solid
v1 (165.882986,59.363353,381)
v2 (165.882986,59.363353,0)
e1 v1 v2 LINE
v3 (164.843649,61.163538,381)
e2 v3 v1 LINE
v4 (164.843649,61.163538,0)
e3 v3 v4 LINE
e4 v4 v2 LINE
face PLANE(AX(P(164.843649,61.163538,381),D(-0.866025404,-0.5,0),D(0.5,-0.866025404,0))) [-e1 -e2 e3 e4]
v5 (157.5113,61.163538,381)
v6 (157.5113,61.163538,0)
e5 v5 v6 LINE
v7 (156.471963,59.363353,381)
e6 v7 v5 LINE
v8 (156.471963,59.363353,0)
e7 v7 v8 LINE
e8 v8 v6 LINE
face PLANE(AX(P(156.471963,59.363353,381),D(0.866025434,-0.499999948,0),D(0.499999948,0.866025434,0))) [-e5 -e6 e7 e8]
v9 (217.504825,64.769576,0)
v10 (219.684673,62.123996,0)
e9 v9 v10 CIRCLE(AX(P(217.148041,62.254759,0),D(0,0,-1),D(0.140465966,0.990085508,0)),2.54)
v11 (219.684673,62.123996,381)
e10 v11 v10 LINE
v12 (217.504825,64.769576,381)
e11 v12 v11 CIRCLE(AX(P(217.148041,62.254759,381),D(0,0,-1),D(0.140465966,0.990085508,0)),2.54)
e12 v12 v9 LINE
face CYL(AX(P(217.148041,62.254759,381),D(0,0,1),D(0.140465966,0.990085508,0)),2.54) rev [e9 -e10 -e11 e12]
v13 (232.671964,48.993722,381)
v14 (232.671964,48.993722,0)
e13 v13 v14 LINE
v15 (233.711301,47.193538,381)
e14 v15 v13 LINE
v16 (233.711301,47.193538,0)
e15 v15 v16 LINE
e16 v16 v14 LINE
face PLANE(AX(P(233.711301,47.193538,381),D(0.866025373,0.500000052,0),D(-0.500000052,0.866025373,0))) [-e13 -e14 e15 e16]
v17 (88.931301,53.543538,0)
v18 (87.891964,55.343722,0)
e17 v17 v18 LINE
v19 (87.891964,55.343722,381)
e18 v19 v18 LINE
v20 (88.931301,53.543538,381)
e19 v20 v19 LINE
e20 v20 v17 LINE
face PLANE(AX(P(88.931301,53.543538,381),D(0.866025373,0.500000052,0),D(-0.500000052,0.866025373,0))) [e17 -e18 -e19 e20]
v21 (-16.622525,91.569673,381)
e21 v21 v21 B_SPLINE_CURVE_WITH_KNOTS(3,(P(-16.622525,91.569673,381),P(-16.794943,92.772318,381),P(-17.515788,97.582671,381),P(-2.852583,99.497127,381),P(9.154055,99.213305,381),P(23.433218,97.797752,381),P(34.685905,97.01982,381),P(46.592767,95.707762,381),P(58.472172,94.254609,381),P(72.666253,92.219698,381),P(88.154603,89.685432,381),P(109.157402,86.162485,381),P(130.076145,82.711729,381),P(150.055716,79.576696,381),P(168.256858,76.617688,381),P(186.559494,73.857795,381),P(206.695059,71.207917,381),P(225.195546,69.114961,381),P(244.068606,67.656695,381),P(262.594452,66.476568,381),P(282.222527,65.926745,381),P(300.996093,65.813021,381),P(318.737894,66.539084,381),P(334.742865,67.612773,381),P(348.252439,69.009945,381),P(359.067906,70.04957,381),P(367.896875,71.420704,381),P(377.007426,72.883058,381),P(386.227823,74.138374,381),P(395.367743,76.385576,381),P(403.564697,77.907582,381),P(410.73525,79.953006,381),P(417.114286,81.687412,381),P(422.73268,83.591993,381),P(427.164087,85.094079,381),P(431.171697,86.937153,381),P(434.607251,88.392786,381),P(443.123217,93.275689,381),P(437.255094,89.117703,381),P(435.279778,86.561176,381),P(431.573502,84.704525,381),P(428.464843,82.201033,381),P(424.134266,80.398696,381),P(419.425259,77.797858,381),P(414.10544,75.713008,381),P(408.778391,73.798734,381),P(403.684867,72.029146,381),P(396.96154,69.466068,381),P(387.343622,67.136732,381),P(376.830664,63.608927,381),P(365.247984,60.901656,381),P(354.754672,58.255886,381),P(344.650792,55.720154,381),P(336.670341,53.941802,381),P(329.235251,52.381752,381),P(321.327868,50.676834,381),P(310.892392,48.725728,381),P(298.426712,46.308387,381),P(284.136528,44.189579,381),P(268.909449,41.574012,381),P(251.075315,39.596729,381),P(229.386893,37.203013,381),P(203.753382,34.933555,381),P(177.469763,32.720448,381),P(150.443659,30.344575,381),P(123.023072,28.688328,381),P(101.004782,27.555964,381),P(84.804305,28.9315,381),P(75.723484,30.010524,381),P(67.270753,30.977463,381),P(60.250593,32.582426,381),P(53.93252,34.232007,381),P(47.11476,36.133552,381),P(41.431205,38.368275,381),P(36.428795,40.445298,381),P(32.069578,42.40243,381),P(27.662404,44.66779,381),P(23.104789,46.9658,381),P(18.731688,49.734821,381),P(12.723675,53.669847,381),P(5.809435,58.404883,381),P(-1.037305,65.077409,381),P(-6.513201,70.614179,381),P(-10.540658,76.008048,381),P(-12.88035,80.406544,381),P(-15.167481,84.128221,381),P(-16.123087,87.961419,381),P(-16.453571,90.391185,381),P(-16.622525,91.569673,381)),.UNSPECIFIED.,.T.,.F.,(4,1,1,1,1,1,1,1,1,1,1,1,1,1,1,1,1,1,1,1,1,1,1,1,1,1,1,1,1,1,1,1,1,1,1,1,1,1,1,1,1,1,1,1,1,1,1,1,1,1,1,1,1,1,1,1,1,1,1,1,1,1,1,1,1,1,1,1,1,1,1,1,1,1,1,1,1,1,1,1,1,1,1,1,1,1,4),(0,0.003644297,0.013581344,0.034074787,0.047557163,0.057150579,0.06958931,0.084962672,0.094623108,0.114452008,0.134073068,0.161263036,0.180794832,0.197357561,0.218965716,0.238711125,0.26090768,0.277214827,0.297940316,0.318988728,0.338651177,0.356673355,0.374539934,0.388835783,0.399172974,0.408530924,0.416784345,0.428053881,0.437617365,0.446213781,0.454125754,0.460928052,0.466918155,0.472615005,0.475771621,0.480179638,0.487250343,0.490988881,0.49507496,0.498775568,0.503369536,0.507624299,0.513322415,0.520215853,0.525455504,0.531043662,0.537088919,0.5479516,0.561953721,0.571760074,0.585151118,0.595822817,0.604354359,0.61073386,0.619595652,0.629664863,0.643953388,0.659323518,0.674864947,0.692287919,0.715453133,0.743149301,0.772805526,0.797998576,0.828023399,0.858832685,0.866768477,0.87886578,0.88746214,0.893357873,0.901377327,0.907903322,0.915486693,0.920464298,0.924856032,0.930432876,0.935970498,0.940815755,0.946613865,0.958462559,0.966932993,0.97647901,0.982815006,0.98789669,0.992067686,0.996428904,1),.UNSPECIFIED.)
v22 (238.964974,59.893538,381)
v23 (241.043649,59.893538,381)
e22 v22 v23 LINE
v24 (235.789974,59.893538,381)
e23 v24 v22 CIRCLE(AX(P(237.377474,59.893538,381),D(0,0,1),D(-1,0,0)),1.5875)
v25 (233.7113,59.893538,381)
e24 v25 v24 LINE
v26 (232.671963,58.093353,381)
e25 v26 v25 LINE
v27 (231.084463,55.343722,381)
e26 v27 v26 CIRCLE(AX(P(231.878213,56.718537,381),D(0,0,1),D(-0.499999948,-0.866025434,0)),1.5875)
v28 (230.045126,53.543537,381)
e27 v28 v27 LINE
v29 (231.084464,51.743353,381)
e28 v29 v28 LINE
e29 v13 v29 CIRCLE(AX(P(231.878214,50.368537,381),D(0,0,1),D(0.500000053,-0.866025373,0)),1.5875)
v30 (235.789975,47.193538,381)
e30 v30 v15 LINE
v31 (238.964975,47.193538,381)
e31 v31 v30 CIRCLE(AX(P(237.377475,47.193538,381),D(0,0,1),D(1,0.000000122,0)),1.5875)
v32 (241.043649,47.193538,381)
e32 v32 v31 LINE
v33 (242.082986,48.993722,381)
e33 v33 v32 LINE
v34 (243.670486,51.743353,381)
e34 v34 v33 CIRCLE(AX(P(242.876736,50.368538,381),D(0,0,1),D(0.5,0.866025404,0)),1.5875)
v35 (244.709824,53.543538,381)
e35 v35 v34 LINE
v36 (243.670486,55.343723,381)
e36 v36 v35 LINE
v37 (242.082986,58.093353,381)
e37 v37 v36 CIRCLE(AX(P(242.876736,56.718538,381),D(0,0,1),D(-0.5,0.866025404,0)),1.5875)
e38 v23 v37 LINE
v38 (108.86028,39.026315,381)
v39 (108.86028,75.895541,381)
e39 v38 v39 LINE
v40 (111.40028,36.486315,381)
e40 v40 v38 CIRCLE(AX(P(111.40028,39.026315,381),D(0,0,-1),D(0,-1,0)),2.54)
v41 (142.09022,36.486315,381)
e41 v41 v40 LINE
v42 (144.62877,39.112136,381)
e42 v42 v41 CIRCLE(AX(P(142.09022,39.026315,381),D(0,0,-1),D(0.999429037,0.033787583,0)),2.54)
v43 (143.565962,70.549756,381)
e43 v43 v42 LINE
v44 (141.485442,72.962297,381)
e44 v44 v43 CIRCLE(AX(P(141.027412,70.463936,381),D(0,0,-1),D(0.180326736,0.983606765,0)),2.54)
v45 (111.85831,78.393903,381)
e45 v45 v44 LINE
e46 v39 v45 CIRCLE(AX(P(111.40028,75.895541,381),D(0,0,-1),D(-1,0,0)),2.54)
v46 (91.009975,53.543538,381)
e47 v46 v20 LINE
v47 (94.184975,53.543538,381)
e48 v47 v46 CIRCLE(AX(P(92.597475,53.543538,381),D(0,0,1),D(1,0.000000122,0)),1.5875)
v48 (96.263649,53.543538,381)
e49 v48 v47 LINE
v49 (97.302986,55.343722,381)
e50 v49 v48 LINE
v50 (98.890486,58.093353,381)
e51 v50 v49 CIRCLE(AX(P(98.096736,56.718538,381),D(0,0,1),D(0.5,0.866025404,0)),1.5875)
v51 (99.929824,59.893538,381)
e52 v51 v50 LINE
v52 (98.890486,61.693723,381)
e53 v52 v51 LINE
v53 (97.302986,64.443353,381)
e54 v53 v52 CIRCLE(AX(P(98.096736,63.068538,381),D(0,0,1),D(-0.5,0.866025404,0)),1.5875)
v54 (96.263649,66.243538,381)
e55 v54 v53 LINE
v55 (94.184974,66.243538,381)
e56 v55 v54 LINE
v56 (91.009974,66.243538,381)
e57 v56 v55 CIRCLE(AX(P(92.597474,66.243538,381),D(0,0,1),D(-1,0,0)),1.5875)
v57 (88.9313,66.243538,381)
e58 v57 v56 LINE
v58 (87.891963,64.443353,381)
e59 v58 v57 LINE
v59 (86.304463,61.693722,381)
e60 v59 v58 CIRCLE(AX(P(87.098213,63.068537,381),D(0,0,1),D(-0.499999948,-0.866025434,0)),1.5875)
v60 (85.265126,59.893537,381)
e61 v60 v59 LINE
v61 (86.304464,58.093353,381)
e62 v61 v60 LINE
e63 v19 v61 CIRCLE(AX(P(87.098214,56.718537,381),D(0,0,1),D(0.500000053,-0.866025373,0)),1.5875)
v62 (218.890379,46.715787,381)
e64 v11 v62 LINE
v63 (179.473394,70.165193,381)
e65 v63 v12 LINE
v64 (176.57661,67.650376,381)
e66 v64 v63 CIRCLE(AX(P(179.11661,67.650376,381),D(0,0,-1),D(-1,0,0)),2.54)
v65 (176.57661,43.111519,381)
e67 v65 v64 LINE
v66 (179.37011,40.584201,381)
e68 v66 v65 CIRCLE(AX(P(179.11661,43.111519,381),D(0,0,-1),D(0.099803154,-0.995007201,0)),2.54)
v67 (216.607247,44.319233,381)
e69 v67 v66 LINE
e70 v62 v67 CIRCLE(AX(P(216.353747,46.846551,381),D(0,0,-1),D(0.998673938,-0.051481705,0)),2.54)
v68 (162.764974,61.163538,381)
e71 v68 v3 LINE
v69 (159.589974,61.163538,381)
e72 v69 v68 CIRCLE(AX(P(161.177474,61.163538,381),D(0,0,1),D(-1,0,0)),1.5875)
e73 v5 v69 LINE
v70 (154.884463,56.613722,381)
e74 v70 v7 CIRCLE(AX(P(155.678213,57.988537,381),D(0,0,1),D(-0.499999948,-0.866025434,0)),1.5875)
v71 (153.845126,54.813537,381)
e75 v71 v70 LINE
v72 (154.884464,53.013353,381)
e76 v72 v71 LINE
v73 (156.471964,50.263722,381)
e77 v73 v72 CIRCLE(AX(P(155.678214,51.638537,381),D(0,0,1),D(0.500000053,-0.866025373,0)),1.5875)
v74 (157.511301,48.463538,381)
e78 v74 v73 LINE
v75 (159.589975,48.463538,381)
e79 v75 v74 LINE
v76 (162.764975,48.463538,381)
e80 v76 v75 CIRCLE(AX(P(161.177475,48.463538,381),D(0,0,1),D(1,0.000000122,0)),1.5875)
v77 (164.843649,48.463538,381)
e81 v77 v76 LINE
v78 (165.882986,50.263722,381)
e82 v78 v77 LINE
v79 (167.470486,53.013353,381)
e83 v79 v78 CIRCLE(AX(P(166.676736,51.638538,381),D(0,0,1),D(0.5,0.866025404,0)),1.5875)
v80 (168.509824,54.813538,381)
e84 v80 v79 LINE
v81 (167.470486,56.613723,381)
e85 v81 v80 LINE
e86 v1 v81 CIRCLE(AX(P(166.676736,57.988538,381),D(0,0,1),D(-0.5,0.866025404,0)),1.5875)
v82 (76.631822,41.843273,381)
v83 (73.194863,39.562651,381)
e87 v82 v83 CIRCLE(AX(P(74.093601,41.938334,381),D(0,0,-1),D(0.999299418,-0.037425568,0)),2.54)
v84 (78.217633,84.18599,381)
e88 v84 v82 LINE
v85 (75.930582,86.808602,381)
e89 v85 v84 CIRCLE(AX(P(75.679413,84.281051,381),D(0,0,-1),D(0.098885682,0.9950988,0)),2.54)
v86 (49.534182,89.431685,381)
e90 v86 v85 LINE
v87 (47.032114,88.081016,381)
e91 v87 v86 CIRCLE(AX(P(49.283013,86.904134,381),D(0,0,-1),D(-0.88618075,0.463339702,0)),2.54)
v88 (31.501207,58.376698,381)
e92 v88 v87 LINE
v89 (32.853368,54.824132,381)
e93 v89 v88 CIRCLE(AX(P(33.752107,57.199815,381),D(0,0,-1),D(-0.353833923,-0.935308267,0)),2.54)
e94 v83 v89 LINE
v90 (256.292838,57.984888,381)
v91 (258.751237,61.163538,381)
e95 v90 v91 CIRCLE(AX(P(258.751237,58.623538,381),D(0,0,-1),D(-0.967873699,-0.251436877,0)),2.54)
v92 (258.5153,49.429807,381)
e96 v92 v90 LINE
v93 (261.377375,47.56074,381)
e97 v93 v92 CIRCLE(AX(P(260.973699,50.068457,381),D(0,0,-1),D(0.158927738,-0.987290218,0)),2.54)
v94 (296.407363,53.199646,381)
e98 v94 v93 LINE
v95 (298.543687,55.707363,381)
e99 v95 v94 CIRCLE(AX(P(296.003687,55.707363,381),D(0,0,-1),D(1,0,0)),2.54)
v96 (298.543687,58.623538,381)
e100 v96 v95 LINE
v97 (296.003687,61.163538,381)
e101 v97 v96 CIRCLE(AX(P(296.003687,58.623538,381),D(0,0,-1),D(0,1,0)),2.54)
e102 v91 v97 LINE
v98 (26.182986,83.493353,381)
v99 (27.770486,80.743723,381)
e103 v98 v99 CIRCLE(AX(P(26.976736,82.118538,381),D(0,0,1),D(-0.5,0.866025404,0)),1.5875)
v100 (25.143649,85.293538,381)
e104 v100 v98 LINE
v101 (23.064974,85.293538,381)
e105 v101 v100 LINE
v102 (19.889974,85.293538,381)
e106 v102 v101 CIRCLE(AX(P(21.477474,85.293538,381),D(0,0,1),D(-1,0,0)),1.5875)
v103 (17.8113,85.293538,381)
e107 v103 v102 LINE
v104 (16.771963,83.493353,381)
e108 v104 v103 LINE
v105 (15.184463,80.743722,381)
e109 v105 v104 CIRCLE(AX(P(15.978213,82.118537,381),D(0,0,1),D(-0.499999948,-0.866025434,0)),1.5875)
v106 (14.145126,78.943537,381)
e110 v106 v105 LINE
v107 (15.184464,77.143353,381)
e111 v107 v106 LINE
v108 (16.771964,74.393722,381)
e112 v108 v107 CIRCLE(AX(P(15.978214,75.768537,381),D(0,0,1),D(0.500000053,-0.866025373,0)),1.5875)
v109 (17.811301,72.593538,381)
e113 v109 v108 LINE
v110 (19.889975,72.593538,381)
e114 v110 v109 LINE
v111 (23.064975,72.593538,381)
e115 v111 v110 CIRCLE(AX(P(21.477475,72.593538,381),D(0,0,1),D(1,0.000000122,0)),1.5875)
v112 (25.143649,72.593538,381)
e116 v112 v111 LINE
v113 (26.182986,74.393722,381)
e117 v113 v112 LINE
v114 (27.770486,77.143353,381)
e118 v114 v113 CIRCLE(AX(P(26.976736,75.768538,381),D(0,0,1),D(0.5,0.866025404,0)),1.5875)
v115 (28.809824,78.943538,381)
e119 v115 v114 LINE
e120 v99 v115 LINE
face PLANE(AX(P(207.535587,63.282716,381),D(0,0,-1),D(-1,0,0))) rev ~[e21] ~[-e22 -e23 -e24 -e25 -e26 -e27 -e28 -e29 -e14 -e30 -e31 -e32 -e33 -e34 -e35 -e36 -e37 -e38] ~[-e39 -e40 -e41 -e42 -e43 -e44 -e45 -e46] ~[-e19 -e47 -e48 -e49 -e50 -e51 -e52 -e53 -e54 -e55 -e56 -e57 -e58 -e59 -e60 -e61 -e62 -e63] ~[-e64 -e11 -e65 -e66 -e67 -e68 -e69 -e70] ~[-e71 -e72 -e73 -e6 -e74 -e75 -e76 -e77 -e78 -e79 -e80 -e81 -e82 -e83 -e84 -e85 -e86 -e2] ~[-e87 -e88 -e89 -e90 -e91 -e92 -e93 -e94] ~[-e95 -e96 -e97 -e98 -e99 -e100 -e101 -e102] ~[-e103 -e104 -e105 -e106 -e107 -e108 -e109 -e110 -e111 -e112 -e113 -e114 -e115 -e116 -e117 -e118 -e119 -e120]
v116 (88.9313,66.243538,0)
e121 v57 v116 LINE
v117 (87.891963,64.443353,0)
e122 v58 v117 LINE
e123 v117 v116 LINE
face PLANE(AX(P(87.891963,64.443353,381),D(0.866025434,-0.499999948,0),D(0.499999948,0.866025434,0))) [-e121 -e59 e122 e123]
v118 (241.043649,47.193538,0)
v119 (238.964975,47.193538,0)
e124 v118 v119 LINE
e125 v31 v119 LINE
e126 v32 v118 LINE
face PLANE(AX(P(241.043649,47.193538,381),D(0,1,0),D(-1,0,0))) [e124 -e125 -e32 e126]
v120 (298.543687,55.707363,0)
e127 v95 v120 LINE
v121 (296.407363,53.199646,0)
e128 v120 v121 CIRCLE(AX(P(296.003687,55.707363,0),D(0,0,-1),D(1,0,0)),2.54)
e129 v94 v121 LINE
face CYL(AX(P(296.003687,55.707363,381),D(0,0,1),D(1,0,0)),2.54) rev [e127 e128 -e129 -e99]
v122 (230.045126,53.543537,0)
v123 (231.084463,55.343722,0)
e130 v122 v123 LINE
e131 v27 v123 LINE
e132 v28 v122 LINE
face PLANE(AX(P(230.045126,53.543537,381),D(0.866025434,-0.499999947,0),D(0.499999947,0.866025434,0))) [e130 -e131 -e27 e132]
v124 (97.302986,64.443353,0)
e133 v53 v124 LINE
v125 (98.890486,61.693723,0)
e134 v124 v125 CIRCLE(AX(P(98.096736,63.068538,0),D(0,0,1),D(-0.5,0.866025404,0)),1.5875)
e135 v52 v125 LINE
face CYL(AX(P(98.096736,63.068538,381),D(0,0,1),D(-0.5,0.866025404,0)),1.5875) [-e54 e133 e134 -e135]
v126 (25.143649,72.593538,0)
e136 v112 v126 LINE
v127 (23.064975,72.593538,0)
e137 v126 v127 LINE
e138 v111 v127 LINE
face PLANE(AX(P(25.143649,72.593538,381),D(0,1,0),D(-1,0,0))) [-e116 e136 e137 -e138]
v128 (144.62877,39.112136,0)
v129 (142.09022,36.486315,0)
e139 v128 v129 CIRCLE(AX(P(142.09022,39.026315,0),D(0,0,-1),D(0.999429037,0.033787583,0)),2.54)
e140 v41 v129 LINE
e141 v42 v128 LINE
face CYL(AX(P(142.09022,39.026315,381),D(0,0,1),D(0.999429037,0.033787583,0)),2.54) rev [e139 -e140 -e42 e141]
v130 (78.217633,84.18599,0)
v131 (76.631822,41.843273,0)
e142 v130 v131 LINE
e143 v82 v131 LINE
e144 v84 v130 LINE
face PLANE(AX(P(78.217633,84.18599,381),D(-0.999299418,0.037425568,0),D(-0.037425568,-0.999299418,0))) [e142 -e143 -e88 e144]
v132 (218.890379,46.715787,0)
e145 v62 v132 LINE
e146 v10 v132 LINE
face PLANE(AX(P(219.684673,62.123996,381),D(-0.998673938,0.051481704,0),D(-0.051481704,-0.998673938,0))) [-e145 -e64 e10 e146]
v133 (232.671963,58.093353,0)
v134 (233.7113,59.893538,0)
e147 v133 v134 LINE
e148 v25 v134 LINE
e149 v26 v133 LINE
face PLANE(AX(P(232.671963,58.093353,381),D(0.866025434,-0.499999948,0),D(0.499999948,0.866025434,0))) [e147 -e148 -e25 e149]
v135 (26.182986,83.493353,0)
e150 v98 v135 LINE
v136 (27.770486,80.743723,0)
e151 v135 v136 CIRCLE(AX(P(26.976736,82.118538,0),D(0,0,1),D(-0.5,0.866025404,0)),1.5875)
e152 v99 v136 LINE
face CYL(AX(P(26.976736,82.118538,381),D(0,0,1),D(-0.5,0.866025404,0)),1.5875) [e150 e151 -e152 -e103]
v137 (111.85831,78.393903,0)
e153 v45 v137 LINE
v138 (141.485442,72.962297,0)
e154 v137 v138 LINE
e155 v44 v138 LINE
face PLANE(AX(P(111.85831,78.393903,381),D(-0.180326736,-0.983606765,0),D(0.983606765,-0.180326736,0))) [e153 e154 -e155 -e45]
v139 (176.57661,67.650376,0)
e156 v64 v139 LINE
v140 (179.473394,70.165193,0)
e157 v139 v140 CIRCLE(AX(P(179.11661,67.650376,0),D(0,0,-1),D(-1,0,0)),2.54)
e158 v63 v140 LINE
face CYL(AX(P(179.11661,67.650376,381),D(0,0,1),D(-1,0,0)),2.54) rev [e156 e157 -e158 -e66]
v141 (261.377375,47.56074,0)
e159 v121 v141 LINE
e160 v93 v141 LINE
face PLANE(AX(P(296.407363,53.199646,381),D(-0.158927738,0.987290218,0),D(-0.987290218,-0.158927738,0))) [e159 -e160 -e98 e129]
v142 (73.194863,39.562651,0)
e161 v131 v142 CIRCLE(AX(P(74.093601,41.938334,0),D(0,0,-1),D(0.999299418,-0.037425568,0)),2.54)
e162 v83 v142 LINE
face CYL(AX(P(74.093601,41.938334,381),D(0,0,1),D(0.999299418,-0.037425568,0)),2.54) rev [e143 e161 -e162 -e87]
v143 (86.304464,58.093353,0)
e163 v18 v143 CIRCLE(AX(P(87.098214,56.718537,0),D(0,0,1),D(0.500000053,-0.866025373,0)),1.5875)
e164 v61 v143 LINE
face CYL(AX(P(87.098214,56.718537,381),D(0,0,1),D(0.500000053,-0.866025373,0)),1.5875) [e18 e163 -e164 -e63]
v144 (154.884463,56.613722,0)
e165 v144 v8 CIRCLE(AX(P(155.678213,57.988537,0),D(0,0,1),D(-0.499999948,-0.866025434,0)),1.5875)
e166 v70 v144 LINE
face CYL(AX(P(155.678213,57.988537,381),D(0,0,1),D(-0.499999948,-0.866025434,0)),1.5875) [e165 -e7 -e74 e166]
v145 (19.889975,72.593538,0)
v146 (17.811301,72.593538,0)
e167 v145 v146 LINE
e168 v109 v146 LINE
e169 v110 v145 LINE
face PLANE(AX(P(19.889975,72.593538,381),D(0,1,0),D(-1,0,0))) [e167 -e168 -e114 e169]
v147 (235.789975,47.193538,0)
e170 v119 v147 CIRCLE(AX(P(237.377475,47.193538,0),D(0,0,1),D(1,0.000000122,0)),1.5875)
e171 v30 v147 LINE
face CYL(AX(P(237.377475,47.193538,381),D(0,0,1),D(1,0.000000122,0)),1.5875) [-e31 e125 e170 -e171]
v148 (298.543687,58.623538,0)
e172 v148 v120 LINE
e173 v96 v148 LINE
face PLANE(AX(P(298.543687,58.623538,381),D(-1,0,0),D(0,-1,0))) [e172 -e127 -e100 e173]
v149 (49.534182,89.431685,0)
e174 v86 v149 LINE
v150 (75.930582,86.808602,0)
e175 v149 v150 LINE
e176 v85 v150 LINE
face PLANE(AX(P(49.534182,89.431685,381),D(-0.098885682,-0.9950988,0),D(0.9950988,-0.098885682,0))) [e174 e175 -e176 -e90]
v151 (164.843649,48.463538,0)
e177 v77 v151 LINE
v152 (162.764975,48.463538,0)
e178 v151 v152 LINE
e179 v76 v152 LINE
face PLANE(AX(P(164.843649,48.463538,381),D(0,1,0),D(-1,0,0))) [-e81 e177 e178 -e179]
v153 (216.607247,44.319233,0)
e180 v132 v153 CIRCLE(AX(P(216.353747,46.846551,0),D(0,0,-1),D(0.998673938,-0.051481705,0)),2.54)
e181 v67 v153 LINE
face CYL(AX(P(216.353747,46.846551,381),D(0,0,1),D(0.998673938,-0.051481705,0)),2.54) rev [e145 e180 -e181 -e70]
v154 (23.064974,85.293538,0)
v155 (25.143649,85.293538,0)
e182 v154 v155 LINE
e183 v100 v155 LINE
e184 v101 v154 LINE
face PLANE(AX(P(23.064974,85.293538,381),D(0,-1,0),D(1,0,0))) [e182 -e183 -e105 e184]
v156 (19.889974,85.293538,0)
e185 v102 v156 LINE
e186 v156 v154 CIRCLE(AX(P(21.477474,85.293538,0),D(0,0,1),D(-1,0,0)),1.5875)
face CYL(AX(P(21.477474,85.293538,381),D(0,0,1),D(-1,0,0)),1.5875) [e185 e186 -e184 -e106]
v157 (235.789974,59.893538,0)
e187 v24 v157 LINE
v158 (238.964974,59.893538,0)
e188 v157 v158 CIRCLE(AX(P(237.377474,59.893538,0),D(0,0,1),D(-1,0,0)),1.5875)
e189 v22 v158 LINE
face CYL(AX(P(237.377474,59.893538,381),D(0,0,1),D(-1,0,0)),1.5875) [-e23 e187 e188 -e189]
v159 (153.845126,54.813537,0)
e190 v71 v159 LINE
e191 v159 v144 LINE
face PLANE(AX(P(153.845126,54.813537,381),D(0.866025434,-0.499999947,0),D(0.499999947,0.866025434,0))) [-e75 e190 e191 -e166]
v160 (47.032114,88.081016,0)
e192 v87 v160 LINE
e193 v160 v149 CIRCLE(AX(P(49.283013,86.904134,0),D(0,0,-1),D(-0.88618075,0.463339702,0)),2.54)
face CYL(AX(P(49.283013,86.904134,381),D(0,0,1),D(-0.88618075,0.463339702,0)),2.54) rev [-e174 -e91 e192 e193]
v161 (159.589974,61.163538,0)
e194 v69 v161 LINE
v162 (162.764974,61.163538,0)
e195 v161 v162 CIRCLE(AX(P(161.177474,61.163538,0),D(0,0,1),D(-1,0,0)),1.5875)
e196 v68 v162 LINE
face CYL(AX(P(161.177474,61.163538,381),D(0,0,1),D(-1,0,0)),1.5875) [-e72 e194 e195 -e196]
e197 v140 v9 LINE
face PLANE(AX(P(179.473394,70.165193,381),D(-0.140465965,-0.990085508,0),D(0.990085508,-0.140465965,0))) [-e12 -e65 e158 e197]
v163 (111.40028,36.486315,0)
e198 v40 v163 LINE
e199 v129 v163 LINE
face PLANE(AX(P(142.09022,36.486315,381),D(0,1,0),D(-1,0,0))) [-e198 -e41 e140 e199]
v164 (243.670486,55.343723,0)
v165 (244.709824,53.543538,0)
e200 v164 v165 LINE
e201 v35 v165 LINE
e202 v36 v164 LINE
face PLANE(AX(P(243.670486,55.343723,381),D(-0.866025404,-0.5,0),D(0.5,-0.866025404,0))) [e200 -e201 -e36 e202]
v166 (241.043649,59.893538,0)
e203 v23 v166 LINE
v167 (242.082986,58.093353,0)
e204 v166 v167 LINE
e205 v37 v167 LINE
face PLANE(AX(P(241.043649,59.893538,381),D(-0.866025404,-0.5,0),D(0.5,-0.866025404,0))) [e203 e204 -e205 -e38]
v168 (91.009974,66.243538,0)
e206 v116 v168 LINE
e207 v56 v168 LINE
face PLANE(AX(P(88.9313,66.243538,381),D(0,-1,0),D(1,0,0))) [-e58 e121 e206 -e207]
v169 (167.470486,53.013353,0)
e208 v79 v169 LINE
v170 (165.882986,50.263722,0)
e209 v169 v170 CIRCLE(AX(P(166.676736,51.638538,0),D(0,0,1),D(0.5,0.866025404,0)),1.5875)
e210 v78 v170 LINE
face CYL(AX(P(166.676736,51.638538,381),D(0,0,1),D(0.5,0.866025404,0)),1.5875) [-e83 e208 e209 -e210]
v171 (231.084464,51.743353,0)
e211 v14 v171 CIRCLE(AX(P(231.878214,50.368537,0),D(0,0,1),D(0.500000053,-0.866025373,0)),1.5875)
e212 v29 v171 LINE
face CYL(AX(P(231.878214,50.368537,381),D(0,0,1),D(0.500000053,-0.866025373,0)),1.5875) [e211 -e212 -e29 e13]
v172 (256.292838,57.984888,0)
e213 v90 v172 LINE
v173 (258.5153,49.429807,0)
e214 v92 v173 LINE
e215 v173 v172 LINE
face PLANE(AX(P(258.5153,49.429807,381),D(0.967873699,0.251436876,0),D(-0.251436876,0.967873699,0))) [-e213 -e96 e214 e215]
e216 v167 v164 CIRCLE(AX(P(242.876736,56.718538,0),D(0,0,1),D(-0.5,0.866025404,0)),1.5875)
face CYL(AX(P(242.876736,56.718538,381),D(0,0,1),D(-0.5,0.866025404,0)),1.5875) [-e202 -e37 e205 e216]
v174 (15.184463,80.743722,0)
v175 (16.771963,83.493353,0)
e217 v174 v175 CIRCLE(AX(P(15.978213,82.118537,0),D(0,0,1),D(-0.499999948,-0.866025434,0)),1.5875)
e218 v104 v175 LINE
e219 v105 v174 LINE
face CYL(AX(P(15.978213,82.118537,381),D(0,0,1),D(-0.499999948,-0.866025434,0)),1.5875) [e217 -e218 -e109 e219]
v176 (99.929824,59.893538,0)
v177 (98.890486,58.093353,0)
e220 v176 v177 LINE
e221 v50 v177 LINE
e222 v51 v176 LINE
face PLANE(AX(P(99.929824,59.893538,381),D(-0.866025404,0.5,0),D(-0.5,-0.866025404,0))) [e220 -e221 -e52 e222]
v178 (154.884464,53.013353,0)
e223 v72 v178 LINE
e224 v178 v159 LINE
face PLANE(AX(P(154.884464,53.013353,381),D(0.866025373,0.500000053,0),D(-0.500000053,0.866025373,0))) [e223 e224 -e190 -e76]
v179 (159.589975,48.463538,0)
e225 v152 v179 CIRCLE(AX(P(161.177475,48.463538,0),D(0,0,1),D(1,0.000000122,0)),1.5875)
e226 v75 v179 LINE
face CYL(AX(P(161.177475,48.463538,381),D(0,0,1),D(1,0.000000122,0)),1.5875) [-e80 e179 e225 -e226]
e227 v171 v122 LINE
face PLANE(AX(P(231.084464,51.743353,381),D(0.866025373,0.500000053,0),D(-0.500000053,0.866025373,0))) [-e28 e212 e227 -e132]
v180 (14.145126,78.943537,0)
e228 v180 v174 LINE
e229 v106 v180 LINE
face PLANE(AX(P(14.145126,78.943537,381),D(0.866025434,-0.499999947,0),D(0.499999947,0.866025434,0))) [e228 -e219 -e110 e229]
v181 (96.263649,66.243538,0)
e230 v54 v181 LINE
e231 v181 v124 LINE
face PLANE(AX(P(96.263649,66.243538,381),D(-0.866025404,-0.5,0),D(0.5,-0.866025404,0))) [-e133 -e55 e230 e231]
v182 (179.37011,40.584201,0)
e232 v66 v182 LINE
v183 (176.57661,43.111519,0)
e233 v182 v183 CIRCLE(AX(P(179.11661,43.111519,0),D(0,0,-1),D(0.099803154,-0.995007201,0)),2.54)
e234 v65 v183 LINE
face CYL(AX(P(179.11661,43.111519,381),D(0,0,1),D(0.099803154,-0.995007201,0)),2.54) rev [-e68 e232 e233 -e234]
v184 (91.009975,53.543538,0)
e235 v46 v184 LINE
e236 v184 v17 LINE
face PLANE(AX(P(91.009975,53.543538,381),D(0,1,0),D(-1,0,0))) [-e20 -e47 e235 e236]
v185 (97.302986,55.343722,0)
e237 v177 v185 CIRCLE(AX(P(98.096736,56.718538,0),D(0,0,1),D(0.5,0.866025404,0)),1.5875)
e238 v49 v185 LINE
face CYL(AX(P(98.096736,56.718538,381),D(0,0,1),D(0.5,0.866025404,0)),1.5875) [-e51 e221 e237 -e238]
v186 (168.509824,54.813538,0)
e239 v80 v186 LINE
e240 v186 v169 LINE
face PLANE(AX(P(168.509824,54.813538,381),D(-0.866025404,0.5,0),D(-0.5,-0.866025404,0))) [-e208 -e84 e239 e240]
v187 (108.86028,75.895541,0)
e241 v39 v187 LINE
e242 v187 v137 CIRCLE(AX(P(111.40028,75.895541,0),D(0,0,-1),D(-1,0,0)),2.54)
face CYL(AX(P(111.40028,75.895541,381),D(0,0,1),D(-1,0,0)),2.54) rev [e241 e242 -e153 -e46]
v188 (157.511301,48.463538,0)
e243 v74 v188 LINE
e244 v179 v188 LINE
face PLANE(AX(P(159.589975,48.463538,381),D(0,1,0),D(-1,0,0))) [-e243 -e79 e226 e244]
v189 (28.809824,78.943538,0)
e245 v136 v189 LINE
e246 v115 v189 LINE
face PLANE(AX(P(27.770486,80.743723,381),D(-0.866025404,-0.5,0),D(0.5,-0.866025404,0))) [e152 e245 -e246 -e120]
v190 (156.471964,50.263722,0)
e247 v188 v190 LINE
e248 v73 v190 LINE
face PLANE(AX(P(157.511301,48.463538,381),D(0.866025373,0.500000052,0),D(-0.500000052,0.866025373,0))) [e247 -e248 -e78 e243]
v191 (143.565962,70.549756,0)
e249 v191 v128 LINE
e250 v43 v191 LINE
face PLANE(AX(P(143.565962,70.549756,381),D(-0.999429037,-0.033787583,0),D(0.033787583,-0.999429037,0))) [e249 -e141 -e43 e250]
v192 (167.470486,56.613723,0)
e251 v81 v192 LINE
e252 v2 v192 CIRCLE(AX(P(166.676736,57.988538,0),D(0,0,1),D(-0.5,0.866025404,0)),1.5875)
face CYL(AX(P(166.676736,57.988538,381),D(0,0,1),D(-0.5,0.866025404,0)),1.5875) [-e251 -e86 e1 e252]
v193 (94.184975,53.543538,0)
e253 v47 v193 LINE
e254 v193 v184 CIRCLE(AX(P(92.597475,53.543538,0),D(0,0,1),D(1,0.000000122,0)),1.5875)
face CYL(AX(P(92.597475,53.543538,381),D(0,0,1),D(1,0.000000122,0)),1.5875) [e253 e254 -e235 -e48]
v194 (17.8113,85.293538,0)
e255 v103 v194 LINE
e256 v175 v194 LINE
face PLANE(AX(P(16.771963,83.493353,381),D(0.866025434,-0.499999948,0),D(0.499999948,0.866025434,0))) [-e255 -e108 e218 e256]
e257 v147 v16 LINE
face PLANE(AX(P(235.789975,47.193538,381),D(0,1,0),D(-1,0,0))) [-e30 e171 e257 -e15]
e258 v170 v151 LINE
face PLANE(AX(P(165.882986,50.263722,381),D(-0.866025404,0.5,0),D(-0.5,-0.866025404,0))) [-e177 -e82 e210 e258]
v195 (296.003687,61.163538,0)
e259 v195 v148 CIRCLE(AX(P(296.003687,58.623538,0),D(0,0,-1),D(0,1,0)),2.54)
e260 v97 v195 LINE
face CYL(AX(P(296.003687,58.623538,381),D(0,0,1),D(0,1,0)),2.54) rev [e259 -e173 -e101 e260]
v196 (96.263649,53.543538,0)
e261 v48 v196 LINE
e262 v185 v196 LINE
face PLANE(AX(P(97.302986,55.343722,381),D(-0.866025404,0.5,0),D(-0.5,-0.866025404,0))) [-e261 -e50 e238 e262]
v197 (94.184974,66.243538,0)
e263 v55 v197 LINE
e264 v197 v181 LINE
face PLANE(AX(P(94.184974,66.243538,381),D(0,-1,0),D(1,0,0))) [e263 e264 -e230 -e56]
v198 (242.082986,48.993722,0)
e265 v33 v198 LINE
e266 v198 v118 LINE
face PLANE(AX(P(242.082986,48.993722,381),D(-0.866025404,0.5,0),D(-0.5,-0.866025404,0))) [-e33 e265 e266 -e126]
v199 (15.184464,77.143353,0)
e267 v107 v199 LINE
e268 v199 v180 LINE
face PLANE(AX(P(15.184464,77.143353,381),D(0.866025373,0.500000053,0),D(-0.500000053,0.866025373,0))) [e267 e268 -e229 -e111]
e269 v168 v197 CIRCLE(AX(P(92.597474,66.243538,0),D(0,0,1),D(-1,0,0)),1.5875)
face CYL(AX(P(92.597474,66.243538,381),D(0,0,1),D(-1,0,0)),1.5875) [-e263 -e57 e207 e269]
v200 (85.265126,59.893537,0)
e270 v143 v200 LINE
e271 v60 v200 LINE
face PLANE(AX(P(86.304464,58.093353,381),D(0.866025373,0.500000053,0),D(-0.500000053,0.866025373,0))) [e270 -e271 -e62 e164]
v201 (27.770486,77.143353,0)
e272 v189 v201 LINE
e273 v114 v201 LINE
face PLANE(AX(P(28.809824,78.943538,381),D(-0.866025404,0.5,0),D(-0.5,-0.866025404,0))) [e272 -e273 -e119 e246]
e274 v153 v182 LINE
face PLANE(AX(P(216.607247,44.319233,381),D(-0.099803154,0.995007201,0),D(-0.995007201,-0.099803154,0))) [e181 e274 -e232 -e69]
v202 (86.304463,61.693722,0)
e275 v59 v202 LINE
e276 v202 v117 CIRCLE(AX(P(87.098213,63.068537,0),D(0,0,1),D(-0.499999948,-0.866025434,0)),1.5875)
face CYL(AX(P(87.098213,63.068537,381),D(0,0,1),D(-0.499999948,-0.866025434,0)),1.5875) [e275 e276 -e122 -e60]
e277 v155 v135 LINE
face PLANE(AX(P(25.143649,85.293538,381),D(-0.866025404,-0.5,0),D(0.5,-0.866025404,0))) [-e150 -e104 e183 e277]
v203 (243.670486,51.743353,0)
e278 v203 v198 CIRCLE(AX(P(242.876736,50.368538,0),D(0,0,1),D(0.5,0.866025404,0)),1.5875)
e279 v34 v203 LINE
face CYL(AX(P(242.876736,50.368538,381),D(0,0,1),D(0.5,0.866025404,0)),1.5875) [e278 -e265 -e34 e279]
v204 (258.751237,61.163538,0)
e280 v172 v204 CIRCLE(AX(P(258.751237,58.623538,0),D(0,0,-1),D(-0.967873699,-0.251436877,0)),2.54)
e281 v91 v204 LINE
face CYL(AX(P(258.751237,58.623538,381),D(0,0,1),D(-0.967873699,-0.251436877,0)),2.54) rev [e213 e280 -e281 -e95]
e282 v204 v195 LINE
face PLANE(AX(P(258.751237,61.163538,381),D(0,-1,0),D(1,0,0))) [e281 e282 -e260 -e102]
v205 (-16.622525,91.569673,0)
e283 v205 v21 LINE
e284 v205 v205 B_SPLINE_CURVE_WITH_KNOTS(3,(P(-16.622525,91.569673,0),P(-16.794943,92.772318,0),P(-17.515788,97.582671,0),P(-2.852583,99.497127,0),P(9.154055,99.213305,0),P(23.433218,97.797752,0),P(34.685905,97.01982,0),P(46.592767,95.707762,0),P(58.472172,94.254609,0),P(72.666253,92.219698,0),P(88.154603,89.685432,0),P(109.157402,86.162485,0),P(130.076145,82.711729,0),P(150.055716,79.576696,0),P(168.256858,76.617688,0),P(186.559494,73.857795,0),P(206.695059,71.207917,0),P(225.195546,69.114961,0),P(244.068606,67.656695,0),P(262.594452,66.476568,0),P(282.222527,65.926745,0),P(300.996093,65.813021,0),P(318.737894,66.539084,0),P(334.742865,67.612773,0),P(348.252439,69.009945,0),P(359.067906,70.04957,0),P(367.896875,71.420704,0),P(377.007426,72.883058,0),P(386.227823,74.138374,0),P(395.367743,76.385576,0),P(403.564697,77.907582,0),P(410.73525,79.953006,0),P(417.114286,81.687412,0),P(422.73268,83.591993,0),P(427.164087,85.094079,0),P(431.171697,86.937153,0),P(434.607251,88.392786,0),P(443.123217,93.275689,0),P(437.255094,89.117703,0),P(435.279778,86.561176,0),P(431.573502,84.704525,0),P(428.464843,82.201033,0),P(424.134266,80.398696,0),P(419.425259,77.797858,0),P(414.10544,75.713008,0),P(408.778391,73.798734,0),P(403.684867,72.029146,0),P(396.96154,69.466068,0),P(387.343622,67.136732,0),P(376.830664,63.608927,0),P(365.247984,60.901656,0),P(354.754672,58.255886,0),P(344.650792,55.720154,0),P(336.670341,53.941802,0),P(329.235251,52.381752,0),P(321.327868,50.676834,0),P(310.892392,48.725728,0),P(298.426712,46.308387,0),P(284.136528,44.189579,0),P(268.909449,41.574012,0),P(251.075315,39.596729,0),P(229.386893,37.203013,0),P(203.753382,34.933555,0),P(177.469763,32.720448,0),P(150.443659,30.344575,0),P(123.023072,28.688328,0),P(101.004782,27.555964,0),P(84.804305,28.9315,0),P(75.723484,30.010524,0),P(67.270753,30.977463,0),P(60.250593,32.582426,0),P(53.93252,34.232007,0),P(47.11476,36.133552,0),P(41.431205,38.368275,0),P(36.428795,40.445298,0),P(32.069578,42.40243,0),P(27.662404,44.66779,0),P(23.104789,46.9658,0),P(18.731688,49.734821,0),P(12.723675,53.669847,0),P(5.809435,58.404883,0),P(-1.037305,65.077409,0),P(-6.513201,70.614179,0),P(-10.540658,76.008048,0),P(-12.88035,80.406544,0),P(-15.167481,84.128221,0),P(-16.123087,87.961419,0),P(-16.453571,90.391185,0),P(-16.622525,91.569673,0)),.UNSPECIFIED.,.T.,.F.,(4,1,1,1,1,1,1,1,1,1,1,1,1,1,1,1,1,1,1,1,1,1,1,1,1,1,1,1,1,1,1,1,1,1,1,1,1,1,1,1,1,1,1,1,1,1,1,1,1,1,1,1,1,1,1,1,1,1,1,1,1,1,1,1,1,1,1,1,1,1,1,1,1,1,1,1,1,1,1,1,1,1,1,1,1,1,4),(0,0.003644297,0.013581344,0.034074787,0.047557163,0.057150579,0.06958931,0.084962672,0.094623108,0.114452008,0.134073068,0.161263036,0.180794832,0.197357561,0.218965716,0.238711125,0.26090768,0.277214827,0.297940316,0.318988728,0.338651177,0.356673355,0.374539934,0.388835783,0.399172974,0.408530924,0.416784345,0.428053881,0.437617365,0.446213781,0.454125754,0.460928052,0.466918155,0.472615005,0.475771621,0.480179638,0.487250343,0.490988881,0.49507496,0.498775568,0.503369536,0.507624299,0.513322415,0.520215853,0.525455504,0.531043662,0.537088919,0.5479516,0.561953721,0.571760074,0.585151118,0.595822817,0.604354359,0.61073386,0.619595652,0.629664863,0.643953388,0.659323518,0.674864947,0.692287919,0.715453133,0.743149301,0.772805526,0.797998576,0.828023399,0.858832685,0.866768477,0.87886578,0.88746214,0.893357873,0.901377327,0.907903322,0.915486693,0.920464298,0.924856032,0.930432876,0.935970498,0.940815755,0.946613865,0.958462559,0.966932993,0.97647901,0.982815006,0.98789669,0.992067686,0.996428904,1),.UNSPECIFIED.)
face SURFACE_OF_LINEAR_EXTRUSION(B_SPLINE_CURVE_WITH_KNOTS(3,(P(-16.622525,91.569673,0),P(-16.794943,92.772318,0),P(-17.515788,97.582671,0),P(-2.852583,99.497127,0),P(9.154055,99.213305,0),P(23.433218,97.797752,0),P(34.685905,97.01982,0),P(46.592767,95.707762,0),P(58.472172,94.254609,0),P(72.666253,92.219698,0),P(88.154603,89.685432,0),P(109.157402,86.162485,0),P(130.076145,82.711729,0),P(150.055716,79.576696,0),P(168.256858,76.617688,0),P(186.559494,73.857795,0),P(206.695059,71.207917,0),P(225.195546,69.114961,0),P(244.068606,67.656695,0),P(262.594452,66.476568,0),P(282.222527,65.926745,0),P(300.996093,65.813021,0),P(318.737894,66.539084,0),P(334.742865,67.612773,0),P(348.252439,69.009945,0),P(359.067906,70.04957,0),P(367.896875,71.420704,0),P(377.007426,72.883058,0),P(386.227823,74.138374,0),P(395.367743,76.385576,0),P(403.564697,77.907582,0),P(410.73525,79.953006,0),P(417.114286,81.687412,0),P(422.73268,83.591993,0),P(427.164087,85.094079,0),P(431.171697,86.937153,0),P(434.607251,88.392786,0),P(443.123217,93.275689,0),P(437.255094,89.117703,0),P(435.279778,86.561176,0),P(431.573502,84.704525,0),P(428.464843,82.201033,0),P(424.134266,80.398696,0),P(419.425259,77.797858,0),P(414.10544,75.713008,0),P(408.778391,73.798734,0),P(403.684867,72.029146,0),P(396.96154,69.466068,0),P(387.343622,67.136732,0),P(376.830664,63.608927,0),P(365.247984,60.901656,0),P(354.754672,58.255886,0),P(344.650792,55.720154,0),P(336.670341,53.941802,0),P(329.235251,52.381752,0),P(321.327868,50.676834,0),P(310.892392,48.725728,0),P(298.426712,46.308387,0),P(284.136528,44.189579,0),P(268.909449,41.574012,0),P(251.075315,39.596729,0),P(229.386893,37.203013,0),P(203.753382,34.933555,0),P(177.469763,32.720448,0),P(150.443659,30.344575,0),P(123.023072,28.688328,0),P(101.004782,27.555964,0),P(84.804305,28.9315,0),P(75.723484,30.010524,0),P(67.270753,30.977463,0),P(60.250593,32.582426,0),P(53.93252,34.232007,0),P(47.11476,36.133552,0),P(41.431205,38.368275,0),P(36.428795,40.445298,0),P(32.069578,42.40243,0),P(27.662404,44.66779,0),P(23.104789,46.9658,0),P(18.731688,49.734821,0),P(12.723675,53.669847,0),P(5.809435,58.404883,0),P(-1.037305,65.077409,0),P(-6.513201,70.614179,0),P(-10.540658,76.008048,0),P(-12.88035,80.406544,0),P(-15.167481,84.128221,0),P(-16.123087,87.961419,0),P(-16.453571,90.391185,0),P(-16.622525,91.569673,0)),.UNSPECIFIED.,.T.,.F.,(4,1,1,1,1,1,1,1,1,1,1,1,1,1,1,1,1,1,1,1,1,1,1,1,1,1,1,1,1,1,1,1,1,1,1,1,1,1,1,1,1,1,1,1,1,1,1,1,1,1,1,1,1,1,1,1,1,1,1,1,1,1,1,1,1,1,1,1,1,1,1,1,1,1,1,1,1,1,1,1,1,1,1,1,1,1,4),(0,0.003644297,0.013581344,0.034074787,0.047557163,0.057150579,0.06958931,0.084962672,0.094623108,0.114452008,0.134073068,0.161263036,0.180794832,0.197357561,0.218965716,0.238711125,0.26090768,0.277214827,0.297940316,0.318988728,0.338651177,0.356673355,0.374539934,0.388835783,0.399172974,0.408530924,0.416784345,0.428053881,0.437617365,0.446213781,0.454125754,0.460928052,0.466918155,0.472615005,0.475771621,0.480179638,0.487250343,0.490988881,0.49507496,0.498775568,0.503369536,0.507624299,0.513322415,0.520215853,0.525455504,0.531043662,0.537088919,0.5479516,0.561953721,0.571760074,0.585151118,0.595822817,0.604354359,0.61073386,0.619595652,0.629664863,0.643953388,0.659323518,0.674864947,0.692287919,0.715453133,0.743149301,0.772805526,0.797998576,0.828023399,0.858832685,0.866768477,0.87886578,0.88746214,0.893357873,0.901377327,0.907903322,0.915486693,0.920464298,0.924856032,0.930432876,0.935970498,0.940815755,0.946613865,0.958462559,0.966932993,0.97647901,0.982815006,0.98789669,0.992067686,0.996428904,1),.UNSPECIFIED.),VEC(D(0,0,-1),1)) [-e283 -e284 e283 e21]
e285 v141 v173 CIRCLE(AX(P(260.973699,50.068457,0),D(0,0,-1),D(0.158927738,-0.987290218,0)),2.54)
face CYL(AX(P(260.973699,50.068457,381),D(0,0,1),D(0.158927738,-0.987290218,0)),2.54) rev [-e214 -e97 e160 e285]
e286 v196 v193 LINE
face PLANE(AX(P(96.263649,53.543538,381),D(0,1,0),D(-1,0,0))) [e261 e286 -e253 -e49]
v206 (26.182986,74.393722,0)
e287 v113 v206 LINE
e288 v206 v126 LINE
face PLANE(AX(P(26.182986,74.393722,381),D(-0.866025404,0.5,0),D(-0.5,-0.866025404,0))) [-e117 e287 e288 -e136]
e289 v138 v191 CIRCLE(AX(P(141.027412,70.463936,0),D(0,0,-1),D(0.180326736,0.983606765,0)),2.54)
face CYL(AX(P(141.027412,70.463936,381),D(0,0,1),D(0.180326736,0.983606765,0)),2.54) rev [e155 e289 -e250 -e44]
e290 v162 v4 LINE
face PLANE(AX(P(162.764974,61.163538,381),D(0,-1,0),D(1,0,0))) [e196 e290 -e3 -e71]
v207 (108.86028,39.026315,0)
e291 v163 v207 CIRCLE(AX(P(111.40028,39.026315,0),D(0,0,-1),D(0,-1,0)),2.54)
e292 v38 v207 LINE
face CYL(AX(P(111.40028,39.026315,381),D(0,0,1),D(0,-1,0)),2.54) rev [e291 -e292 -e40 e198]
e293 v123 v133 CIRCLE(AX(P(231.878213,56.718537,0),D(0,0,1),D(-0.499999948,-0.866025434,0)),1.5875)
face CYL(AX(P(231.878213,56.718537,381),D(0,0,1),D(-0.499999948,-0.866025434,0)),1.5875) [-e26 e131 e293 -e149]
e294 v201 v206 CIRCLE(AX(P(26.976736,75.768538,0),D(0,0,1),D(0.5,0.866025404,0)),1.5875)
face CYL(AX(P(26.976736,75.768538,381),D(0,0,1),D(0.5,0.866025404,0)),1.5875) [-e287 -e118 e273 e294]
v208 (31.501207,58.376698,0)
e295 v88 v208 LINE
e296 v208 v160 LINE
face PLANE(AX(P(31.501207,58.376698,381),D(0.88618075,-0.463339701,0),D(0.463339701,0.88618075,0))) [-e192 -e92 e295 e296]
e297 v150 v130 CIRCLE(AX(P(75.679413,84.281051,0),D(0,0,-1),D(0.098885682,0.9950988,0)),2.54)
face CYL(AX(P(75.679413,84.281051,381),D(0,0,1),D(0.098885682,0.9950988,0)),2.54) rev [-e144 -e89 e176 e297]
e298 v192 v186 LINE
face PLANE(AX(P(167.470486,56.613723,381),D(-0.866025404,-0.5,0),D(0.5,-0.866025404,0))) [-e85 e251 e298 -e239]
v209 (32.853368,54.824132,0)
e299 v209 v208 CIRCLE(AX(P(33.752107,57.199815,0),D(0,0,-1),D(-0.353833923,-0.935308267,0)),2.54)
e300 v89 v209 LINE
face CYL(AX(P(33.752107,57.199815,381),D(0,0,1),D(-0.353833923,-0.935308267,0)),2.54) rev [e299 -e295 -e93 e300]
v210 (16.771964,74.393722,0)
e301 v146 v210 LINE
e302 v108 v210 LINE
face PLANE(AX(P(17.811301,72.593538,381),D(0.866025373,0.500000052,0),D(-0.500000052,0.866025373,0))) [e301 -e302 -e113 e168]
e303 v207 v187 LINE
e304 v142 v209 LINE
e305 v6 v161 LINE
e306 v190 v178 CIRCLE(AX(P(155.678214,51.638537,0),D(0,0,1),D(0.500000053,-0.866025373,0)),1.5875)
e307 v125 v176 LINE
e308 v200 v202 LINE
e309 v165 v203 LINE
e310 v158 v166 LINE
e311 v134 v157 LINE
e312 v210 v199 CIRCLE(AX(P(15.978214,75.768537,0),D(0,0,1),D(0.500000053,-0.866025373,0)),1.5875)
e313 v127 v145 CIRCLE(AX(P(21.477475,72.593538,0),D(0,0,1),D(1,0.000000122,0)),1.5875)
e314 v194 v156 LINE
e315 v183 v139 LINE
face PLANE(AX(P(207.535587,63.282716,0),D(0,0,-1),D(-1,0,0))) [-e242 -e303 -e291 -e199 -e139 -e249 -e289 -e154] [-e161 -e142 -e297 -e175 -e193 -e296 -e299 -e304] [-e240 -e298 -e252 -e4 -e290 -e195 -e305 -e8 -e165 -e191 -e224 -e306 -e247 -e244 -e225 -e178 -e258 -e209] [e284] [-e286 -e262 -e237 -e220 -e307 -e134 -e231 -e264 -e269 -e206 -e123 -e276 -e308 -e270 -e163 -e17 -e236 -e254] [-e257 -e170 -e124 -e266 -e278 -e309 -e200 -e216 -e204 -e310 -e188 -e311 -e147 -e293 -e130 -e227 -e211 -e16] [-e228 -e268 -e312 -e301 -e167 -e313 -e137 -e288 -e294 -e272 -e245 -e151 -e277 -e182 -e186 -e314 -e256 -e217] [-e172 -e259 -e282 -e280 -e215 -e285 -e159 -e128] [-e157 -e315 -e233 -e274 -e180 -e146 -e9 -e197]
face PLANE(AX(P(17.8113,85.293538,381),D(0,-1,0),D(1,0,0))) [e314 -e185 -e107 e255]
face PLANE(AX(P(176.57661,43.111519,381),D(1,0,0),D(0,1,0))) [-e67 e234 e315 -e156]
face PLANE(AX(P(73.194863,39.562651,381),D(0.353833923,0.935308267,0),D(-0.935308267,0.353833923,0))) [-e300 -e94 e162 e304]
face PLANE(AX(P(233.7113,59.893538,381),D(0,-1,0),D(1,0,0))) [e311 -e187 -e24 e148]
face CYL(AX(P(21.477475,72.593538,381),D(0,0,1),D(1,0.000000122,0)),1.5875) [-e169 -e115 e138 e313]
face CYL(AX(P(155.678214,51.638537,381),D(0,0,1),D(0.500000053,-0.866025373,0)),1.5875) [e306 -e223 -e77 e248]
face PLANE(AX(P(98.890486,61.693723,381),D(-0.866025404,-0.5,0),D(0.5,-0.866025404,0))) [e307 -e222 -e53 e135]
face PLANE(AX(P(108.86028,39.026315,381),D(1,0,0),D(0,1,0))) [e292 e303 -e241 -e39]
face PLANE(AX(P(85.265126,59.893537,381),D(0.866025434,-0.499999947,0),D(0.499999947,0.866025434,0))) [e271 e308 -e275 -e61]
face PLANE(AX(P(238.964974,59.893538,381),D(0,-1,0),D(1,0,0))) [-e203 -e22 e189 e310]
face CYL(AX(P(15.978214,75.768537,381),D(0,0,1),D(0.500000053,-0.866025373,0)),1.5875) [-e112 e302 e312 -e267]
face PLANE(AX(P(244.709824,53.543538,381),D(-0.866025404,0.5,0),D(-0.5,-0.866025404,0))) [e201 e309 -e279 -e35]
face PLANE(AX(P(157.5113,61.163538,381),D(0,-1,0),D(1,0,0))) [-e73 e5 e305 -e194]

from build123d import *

# Parameters (mm, degrees)
BOSS_EXTRUDE1_DEPTH = 381
CUT_EXTRUDE3_DEPTH  = 381


with BuildPart() as part:
    # Sketch1 → Boss-Extrude1 (new body)
    with BuildSketch(Plane.XY):
        with BuildLine():
            add(Edge.make_bspline(
                [(-16.622525288, 91.56967272), (-16.794942994, 92.772317911), (-17.515788121, 97.582670832), (-2.852582554, 99.497127174), (9.154054709, 99.213304724), (23.433217875, 97.797752429), (34.6859051, 97.019819773), (46.592767258, 95.707761604), (58.472171701, 94.254609297), (72.666253463, 92.219697635), (88.15460255, 89.685431784), (109.15740223, 86.162485471), (130.076144789, 82.711728928), (150.055716296, 79.576696099), (168.256858053, 76.617688262), (186.559493812, 73.857794613), (206.695059336, 71.20791695), (225.195546149, 69.114961125), (244.068606399, 67.656695297), (262.594452449, 66.476567979), (282.222526995, 65.926744761), (300.99609332, 65.813021246), (318.737894065, 66.539084176), (334.742865336, 67.61277327), (348.252438633, 69.009944705), (359.067906447, 70.049570339), (367.896874578, 71.420704301), (377.007425502, 72.883057797), (386.227823421, 74.138373924), (395.367743176, 76.385575861), (403.564697097, 77.907582397), (410.735250399, 79.953005658), (417.114285798, 81.687412008), (422.732680223, 83.591992804), (427.164087313, 85.094079009), (431.171696898, 86.937153076), (434.607250511, 88.392786361), (443.123217376, 93.275688905), (437.255094337, 89.117703468), (435.279778464, 86.561175616), (431.573501891, 84.704524529), (428.464842726, 82.201032813), (424.134266462, 80.398696308), (419.425258521, 77.797857577), (414.105440345, 75.713007702), (408.77839072, 73.798734141), (403.684867312, 72.029145889), (396.961540144, 69.466067962), (387.343622202, 67.136732033), (376.830663922, 63.608926675), (365.24798357, 60.901656463), (354.754672426, 58.255886458), (344.650791699, 55.720154361), (336.670341174, 53.941801639), (329.235250959, 52.381752299), (321.327868225, 50.676833739), (310.892392252, 48.725728026), (298.426712372, 46.308387166), (284.136528131, 44.189578856), (268.909448728, 41.574011521), (251.075314715, 39.596728872), (229.386892765, 37.203012777), (203.753382466, 34.933554815), (177.46976253, 32.720447696), (150.443659112, 30.344574846), (123.02307167, 28.688327838), (101.004781565, 27.555963663), (84.804305156, 28.931500406), (75.72348416, 30.010523718), (67.270753352, 30.977463397), (60.250592801, 32.582425676), (53.932519662, 34.232006507), (47.114759922, 36.133551764), (41.43120503, 38.368275103), (36.428795002, 40.445297648), (32.069577899, 42.402430324), (27.662403595, 44.667790264), (23.104788958, 46.965799851), (18.73168781, 49.734821084), (12.723675127, 53.669846892), (5.809434759, 58.404883079), (-1.037305312, 65.077409289), (-6.513200759, 70.614178991), (-10.540658158, 76.008047875), (-12.880350205, 80.406543609), (-15.167480815, 84.128221175), (-16.123087236, 87.961419413), (-16.453570873, 90.391184614), (-16.622525288, 91.56967272)],
                knots=[0, 0, 0, 0, 0.003644297, 0.013581344, 0.034074787, 0.047557163, 0.057150579, 0.06958931, 0.084962672, 0.094623108, 0.114452008, 0.134073068, 0.161263036, 0.180794832, 0.197357561, 0.218965716, 0.238711125, 0.26090768, 0.277214827, 0.297940316, 0.318988728, 0.338651177, 0.356673355, 0.374539934, 0.388835783, 0.399172974, 0.408530924, 0.416784345, 0.428053881, 0.437617365, 0.446213781, 0.454125754, 0.460928052, 0.466918155, 0.472615005, 0.475771621, 0.480179638, 0.487250343, 0.490988881, 0.49507496, 0.498775568, 0.503369536, 0.507624299, 0.513322415, 0.520215853, 0.525455504, 0.531043662, 0.537088919, 0.5479516, 0.561953721, 0.571760074, 0.585151118, 0.595822817, 0.604354359, 0.61073386, 0.619595652, 0.629664863, 0.643953388, 0.659323518, 0.674864947, 0.692287919, 0.715453133, 0.743149301, 0.772805526, 0.797998576, 0.828023399, 0.858832685, 0.866768477, 0.87886578, 0.88746214, 0.893357873, 0.901377327, 0.907903322, 0.915486693, 0.920464298, 0.924856032, 0.930432876, 0.935970498, 0.940815755, 0.946613865, 0.958462559, 0.966932993, 0.97647901, 0.982815006, 0.98789669, 0.992067686, 0.996428904, 1, 1, 1, 1], degree=3))
        make_face()
    extrude(amount=BOSS_EXTRUDE1_DEPTH)

    # Sketch4 → Cut-Extrude3 (cut)
    with BuildSketch(Plane.XY.offset(381)):
        with BuildLine():
            Line((88.931300118, 66.243537573), (91.009974327, 66.243537573))
            ThreePointArc((91.009974327, 66.243537573), (92.597474327, 64.656037573), (94.184974327, 66.243537573))
            Line((94.184974327, 66.243537573), (96.263648536, 66.243537573))
            Line((96.263648536, 66.243537573), (97.302985641, 64.443352902))
            ThreePointArc((97.302985641, 64.443352902), (96.721920503, 62.274787243), (98.890486301, 61.693722626))
            Line((98.890486301, 61.693722626), (99.929823515, 59.893537766))
            Line((99.929823515, 59.893537766), (98.89048641, 58.093353094))
            ThreePointArc((98.89048641, 58.093353094), (96.721921082, 57.512287766), (97.30298641, 55.343722437))
            Line((97.30298641, 55.343722437), (96.263649306, 53.543537766))
            Line((96.263649306, 53.543537766), (94.184975096, 53.543537766))
            ThreePointArc((94.184975096, 53.543537766), (92.597475, 55.131037573), (91.009975096, 53.543537573))
            Line((91.009975096, 53.543537573), (88.931300887, 53.543537573))
            Line((88.931300887, 53.543537573), (87.891963673, 55.343722182))
            ThreePointArc((87.891963673, 55.343722182), (88.47302887, 57.512287545), (86.304463507, 58.093352743))
            Line((86.304463507, 58.093352743), (85.265126293, 59.893537351))
            Line((85.265126293, 59.893537351), (86.304463288, 61.693722086))
            ThreePointArc((86.304463288, 61.693722086), (88.473028582, 62.274787545), (87.891963122, 64.443352839))
            Line((87.891963122, 64.443352839), (88.931300118, 66.243537573))
        make_face()
        with BuildLine():
            Line((17.811300118, 85.293537573), (19.889974327, 85.293537573))
            ThreePointArc((19.889974327, 85.293537573), (21.477474327, 83.706037573), (23.064974327, 85.293537573))
            Line((23.064974327, 85.293537573), (25.143648536, 85.293537573))
            Line((25.143648536, 85.293537573), (26.182985641, 83.493352902))
            ThreePointArc((26.182985641, 83.493352902), (25.601920503, 81.324787243), (27.770486301, 80.743722626))
            Line((27.770486301, 80.743722626), (28.809823515, 78.943537766))
            Line((28.809823515, 78.943537766), (27.77048641, 77.143353094))
            ThreePointArc((27.77048641, 77.143353094), (25.601921082, 76.562287766), (26.18298641, 74.393722437))
            Line((26.18298641, 74.393722437), (25.143649306, 72.593537766))
            Line((25.143649306, 72.593537766), (23.064975096, 72.593537766))
            ThreePointArc((23.064975096, 72.593537766), (21.477475, 74.181037573), (19.889975096, 72.593537573))
            Line((19.889975096, 72.593537573), (17.811300887, 72.593537573))
            Line((17.811300887, 72.593537573), (16.771963673, 74.393722182))
            ThreePointArc((16.771963673, 74.393722182), (17.35302887, 76.562287545), (15.184463507, 77.143352743))
            Line((15.184463507, 77.143352743), (14.145126293, 78.943537351))
            Line((14.145126293, 78.943537351), (15.184463288, 80.743722086))
            ThreePointArc((15.184463288, 80.743722086), (17.353028582, 81.324787545), (16.771963122, 83.493352839))
            Line((16.771963122, 83.493352839), (17.811300118, 85.293537573))
        make_face()
        with BuildLine():
            Line((233.711300118, 59.893537573), (235.789974327, 59.893537573))
            ThreePointArc((235.789974327, 59.893537573), (237.377474327, 58.306037573), (238.964974327, 59.893537573))
            Line((238.964974327, 59.893537573), (241.043648536, 59.893537573))
            Line((241.043648536, 59.893537573), (242.082985641, 58.093352902))
            ThreePointArc((242.082985641, 58.093352902), (241.501920503, 55.924787243), (243.670486301, 55.343722626))
            Line((243.670486301, 55.343722626), (244.709823515, 53.543537766))
            Line((244.709823515, 53.543537766), (243.67048641, 51.743353094))
            ThreePointArc((243.67048641, 51.743353094), (241.501921082, 51.162287766), (242.08298641, 48.993722437))
            Line((242.08298641, 48.993722437), (241.043649306, 47.193537766))
            Line((241.043649306, 47.193537766), (238.964975096, 47.193537766))
            ThreePointArc((238.964975096, 47.193537766), (237.377475, 48.781037573), (235.789975096, 47.193537573))
            Line((235.789975096, 47.193537573), (233.711300887, 47.193537573))
            Line((233.711300887, 47.193537573), (232.671963673, 48.993722182))
            ThreePointArc((232.671963673, 48.993722182), (233.25302887, 51.162287545), (231.084463507, 51.743352743))
            Line((231.084463507, 51.743352743), (230.045126293, 53.543537351))
            Line((230.045126293, 53.543537351), (231.084463288, 55.343722086))
            ThreePointArc((231.084463288, 55.343722086), (233.253028582, 55.924787545), (232.671963122, 58.093352839))
            Line((232.671963122, 58.093352839), (233.711300118, 59.893537573))
        make_face()
        with BuildLine():
            Line((157.511300118, 61.163537573), (159.589974327, 61.163537573))
            ThreePointArc((159.589974327, 61.163537573), (161.177474327, 59.576037573), (162.764974327, 61.163537573))
            Line((162.764974327, 61.163537573), (164.843648536, 61.163537573))
            Line((164.843648536, 61.163537573), (165.882985641, 59.363352902))
            ThreePointArc((165.882985641, 59.363352902), (165.301920503, 57.194787243), (167.470486301, 56.613722626))
            Line((167.470486301, 56.613722626), (168.509823515, 54.813537766))
            Line((168.509823515, 54.813537766), (167.47048641, 53.013353094))
            ThreePointArc((167.47048641, 53.013353094), (165.301921082, 52.432287766), (165.88298641, 50.263722437))
            Line((165.88298641, 50.263722437), (164.843649306, 48.463537766))
            Line((164.843649306, 48.463537766), (162.764975096, 48.463537766))
            ThreePointArc((162.764975096, 48.463537766), (161.177475, 50.051037573), (159.589975096, 48.463537573))
            Line((159.589975096, 48.463537573), (157.511300887, 48.463537573))
            Line((157.511300887, 48.463537573), (156.471963673, 50.263722182))
            ThreePointArc((156.471963673, 50.263722182), (157.05302887, 52.432287545), (154.884463507, 53.013352743))
            Line((154.884463507, 53.013352743), (153.845126293, 54.813537351))
            Line((153.845126293, 54.813537351), (154.884463288, 56.613722086))
            ThreePointArc((154.884463288, 56.613722086), (157.053028582, 57.194787545), (156.471963122, 59.363352839))
            Line((156.471963122, 59.363352839), (157.511300118, 61.163537573))
        make_face()
        with BuildLine():
            Line((31.501207482, 58.37669779), (47.032113751, 88.081016492))
            ThreePointArc((47.032113751, 88.081016492), (48.076445172, 89.139261035), (49.534182489, 89.431684603))
            Line((49.534182489, 89.431684603), (75.93058222, 86.808602351))
            ThreePointArc((75.93058222, 86.808602351), (77.593752589, 85.950453195), (78.217633108, 84.185990458))
            Line((78.217633108, 84.185990458), (76.631821885, 41.843273018))
            ThreePointArc((76.631821885, 41.843273018), (75.497981954, 39.821894696), (73.194863199, 39.56265096))
            Line((73.194863199, 39.56265096), (32.853368422, 54.824131949))
            ThreePointArc((32.853368422, 54.824131949), (31.378241648, 56.296285615), (31.501207482, 58.37669779))
        make_face()
        with BuildLine():
            Line((111.858309541, 78.393902518), (141.485442222, 72.962296795))
            ThreePointArc((141.485442222, 72.962296795), (142.950940478, 72.12274223), (143.565962065, 70.549756072))
            Line((143.565962065, 70.549756072), (144.628770085, 39.112135773))
            ThreePointArc((144.628770085, 39.112135773), (143.916361615, 37.260866924), (142.090220332, 36.486315313))
            Line((142.090220332, 36.486315313), (111.400279631, 36.486315313))
            ThreePointArc((111.400279631, 36.486315313), (109.604228407, 37.230264089), (108.860279631, 39.026315313))
            Line((108.860279631, 39.026315313), (108.860279631, 75.895541334))
            ThreePointArc((108.860279631, 75.895541334), (109.774210132, 77.846822448), (111.858309541, 78.393902518))
        make_face()
        with BuildLine():
            Line((179.473393864, 70.165192722), (217.50482476, 64.769576264))
            ThreePointArc((217.50482476, 64.769576264), (219.108331349, 63.86995645), (219.68467301, 62.123995546))
            Line((219.68467301, 62.123995546), (218.890378913, 46.71578744))
            ThreePointArc((218.890378913, 46.71578744), (218.192789678, 45.094545708), (216.607247121, 44.319232678))
            Line((216.607247121, 44.319232678), (179.370110323, 40.58420072))
            ThreePointArc((179.370110323, 40.58420072), (177.412540188, 41.227973149), (176.576610312, 43.111519011))
            Line((176.576610312, 43.111519011), (176.576610312, 67.650375533))
            ThreePointArc((176.576610312, 67.650375533), (177.451472213, 69.568425352), (179.473393864, 70.165192722))
        make_face()
        with BuildLine():
            Line((258.751236774, 61.163537573), (296.003687002, 61.163537573))
            ThreePointArc((296.003687002, 61.163537573), (297.799738226, 60.419588797), (298.543687002, 58.623537573))
            Line((298.543687002, 58.623537573), (298.543687002, 55.707363059))
            ThreePointArc((298.543687002, 55.707363059), (297.937199117, 54.060204626), (296.407363457, 53.199645906))
            Line((296.407363457, 53.199645906), (261.377375447, 47.560739881))
            ThreePointArc((261.377375447, 47.560739881), (259.584877656, 47.941775277), (258.515299797, 49.429807368))
            Line((258.515299797, 49.429807368), (256.292837579, 57.984887907))
            ThreePointArc((256.292837579, 57.984887907), (256.742036666, 60.177472876), (258.751236774, 61.163537573))
        make_face()
    extrude(amount=-CUT_EXTRUDE3_DEPTH, mode=Mode.SUBTRACT)


solid = part.part
